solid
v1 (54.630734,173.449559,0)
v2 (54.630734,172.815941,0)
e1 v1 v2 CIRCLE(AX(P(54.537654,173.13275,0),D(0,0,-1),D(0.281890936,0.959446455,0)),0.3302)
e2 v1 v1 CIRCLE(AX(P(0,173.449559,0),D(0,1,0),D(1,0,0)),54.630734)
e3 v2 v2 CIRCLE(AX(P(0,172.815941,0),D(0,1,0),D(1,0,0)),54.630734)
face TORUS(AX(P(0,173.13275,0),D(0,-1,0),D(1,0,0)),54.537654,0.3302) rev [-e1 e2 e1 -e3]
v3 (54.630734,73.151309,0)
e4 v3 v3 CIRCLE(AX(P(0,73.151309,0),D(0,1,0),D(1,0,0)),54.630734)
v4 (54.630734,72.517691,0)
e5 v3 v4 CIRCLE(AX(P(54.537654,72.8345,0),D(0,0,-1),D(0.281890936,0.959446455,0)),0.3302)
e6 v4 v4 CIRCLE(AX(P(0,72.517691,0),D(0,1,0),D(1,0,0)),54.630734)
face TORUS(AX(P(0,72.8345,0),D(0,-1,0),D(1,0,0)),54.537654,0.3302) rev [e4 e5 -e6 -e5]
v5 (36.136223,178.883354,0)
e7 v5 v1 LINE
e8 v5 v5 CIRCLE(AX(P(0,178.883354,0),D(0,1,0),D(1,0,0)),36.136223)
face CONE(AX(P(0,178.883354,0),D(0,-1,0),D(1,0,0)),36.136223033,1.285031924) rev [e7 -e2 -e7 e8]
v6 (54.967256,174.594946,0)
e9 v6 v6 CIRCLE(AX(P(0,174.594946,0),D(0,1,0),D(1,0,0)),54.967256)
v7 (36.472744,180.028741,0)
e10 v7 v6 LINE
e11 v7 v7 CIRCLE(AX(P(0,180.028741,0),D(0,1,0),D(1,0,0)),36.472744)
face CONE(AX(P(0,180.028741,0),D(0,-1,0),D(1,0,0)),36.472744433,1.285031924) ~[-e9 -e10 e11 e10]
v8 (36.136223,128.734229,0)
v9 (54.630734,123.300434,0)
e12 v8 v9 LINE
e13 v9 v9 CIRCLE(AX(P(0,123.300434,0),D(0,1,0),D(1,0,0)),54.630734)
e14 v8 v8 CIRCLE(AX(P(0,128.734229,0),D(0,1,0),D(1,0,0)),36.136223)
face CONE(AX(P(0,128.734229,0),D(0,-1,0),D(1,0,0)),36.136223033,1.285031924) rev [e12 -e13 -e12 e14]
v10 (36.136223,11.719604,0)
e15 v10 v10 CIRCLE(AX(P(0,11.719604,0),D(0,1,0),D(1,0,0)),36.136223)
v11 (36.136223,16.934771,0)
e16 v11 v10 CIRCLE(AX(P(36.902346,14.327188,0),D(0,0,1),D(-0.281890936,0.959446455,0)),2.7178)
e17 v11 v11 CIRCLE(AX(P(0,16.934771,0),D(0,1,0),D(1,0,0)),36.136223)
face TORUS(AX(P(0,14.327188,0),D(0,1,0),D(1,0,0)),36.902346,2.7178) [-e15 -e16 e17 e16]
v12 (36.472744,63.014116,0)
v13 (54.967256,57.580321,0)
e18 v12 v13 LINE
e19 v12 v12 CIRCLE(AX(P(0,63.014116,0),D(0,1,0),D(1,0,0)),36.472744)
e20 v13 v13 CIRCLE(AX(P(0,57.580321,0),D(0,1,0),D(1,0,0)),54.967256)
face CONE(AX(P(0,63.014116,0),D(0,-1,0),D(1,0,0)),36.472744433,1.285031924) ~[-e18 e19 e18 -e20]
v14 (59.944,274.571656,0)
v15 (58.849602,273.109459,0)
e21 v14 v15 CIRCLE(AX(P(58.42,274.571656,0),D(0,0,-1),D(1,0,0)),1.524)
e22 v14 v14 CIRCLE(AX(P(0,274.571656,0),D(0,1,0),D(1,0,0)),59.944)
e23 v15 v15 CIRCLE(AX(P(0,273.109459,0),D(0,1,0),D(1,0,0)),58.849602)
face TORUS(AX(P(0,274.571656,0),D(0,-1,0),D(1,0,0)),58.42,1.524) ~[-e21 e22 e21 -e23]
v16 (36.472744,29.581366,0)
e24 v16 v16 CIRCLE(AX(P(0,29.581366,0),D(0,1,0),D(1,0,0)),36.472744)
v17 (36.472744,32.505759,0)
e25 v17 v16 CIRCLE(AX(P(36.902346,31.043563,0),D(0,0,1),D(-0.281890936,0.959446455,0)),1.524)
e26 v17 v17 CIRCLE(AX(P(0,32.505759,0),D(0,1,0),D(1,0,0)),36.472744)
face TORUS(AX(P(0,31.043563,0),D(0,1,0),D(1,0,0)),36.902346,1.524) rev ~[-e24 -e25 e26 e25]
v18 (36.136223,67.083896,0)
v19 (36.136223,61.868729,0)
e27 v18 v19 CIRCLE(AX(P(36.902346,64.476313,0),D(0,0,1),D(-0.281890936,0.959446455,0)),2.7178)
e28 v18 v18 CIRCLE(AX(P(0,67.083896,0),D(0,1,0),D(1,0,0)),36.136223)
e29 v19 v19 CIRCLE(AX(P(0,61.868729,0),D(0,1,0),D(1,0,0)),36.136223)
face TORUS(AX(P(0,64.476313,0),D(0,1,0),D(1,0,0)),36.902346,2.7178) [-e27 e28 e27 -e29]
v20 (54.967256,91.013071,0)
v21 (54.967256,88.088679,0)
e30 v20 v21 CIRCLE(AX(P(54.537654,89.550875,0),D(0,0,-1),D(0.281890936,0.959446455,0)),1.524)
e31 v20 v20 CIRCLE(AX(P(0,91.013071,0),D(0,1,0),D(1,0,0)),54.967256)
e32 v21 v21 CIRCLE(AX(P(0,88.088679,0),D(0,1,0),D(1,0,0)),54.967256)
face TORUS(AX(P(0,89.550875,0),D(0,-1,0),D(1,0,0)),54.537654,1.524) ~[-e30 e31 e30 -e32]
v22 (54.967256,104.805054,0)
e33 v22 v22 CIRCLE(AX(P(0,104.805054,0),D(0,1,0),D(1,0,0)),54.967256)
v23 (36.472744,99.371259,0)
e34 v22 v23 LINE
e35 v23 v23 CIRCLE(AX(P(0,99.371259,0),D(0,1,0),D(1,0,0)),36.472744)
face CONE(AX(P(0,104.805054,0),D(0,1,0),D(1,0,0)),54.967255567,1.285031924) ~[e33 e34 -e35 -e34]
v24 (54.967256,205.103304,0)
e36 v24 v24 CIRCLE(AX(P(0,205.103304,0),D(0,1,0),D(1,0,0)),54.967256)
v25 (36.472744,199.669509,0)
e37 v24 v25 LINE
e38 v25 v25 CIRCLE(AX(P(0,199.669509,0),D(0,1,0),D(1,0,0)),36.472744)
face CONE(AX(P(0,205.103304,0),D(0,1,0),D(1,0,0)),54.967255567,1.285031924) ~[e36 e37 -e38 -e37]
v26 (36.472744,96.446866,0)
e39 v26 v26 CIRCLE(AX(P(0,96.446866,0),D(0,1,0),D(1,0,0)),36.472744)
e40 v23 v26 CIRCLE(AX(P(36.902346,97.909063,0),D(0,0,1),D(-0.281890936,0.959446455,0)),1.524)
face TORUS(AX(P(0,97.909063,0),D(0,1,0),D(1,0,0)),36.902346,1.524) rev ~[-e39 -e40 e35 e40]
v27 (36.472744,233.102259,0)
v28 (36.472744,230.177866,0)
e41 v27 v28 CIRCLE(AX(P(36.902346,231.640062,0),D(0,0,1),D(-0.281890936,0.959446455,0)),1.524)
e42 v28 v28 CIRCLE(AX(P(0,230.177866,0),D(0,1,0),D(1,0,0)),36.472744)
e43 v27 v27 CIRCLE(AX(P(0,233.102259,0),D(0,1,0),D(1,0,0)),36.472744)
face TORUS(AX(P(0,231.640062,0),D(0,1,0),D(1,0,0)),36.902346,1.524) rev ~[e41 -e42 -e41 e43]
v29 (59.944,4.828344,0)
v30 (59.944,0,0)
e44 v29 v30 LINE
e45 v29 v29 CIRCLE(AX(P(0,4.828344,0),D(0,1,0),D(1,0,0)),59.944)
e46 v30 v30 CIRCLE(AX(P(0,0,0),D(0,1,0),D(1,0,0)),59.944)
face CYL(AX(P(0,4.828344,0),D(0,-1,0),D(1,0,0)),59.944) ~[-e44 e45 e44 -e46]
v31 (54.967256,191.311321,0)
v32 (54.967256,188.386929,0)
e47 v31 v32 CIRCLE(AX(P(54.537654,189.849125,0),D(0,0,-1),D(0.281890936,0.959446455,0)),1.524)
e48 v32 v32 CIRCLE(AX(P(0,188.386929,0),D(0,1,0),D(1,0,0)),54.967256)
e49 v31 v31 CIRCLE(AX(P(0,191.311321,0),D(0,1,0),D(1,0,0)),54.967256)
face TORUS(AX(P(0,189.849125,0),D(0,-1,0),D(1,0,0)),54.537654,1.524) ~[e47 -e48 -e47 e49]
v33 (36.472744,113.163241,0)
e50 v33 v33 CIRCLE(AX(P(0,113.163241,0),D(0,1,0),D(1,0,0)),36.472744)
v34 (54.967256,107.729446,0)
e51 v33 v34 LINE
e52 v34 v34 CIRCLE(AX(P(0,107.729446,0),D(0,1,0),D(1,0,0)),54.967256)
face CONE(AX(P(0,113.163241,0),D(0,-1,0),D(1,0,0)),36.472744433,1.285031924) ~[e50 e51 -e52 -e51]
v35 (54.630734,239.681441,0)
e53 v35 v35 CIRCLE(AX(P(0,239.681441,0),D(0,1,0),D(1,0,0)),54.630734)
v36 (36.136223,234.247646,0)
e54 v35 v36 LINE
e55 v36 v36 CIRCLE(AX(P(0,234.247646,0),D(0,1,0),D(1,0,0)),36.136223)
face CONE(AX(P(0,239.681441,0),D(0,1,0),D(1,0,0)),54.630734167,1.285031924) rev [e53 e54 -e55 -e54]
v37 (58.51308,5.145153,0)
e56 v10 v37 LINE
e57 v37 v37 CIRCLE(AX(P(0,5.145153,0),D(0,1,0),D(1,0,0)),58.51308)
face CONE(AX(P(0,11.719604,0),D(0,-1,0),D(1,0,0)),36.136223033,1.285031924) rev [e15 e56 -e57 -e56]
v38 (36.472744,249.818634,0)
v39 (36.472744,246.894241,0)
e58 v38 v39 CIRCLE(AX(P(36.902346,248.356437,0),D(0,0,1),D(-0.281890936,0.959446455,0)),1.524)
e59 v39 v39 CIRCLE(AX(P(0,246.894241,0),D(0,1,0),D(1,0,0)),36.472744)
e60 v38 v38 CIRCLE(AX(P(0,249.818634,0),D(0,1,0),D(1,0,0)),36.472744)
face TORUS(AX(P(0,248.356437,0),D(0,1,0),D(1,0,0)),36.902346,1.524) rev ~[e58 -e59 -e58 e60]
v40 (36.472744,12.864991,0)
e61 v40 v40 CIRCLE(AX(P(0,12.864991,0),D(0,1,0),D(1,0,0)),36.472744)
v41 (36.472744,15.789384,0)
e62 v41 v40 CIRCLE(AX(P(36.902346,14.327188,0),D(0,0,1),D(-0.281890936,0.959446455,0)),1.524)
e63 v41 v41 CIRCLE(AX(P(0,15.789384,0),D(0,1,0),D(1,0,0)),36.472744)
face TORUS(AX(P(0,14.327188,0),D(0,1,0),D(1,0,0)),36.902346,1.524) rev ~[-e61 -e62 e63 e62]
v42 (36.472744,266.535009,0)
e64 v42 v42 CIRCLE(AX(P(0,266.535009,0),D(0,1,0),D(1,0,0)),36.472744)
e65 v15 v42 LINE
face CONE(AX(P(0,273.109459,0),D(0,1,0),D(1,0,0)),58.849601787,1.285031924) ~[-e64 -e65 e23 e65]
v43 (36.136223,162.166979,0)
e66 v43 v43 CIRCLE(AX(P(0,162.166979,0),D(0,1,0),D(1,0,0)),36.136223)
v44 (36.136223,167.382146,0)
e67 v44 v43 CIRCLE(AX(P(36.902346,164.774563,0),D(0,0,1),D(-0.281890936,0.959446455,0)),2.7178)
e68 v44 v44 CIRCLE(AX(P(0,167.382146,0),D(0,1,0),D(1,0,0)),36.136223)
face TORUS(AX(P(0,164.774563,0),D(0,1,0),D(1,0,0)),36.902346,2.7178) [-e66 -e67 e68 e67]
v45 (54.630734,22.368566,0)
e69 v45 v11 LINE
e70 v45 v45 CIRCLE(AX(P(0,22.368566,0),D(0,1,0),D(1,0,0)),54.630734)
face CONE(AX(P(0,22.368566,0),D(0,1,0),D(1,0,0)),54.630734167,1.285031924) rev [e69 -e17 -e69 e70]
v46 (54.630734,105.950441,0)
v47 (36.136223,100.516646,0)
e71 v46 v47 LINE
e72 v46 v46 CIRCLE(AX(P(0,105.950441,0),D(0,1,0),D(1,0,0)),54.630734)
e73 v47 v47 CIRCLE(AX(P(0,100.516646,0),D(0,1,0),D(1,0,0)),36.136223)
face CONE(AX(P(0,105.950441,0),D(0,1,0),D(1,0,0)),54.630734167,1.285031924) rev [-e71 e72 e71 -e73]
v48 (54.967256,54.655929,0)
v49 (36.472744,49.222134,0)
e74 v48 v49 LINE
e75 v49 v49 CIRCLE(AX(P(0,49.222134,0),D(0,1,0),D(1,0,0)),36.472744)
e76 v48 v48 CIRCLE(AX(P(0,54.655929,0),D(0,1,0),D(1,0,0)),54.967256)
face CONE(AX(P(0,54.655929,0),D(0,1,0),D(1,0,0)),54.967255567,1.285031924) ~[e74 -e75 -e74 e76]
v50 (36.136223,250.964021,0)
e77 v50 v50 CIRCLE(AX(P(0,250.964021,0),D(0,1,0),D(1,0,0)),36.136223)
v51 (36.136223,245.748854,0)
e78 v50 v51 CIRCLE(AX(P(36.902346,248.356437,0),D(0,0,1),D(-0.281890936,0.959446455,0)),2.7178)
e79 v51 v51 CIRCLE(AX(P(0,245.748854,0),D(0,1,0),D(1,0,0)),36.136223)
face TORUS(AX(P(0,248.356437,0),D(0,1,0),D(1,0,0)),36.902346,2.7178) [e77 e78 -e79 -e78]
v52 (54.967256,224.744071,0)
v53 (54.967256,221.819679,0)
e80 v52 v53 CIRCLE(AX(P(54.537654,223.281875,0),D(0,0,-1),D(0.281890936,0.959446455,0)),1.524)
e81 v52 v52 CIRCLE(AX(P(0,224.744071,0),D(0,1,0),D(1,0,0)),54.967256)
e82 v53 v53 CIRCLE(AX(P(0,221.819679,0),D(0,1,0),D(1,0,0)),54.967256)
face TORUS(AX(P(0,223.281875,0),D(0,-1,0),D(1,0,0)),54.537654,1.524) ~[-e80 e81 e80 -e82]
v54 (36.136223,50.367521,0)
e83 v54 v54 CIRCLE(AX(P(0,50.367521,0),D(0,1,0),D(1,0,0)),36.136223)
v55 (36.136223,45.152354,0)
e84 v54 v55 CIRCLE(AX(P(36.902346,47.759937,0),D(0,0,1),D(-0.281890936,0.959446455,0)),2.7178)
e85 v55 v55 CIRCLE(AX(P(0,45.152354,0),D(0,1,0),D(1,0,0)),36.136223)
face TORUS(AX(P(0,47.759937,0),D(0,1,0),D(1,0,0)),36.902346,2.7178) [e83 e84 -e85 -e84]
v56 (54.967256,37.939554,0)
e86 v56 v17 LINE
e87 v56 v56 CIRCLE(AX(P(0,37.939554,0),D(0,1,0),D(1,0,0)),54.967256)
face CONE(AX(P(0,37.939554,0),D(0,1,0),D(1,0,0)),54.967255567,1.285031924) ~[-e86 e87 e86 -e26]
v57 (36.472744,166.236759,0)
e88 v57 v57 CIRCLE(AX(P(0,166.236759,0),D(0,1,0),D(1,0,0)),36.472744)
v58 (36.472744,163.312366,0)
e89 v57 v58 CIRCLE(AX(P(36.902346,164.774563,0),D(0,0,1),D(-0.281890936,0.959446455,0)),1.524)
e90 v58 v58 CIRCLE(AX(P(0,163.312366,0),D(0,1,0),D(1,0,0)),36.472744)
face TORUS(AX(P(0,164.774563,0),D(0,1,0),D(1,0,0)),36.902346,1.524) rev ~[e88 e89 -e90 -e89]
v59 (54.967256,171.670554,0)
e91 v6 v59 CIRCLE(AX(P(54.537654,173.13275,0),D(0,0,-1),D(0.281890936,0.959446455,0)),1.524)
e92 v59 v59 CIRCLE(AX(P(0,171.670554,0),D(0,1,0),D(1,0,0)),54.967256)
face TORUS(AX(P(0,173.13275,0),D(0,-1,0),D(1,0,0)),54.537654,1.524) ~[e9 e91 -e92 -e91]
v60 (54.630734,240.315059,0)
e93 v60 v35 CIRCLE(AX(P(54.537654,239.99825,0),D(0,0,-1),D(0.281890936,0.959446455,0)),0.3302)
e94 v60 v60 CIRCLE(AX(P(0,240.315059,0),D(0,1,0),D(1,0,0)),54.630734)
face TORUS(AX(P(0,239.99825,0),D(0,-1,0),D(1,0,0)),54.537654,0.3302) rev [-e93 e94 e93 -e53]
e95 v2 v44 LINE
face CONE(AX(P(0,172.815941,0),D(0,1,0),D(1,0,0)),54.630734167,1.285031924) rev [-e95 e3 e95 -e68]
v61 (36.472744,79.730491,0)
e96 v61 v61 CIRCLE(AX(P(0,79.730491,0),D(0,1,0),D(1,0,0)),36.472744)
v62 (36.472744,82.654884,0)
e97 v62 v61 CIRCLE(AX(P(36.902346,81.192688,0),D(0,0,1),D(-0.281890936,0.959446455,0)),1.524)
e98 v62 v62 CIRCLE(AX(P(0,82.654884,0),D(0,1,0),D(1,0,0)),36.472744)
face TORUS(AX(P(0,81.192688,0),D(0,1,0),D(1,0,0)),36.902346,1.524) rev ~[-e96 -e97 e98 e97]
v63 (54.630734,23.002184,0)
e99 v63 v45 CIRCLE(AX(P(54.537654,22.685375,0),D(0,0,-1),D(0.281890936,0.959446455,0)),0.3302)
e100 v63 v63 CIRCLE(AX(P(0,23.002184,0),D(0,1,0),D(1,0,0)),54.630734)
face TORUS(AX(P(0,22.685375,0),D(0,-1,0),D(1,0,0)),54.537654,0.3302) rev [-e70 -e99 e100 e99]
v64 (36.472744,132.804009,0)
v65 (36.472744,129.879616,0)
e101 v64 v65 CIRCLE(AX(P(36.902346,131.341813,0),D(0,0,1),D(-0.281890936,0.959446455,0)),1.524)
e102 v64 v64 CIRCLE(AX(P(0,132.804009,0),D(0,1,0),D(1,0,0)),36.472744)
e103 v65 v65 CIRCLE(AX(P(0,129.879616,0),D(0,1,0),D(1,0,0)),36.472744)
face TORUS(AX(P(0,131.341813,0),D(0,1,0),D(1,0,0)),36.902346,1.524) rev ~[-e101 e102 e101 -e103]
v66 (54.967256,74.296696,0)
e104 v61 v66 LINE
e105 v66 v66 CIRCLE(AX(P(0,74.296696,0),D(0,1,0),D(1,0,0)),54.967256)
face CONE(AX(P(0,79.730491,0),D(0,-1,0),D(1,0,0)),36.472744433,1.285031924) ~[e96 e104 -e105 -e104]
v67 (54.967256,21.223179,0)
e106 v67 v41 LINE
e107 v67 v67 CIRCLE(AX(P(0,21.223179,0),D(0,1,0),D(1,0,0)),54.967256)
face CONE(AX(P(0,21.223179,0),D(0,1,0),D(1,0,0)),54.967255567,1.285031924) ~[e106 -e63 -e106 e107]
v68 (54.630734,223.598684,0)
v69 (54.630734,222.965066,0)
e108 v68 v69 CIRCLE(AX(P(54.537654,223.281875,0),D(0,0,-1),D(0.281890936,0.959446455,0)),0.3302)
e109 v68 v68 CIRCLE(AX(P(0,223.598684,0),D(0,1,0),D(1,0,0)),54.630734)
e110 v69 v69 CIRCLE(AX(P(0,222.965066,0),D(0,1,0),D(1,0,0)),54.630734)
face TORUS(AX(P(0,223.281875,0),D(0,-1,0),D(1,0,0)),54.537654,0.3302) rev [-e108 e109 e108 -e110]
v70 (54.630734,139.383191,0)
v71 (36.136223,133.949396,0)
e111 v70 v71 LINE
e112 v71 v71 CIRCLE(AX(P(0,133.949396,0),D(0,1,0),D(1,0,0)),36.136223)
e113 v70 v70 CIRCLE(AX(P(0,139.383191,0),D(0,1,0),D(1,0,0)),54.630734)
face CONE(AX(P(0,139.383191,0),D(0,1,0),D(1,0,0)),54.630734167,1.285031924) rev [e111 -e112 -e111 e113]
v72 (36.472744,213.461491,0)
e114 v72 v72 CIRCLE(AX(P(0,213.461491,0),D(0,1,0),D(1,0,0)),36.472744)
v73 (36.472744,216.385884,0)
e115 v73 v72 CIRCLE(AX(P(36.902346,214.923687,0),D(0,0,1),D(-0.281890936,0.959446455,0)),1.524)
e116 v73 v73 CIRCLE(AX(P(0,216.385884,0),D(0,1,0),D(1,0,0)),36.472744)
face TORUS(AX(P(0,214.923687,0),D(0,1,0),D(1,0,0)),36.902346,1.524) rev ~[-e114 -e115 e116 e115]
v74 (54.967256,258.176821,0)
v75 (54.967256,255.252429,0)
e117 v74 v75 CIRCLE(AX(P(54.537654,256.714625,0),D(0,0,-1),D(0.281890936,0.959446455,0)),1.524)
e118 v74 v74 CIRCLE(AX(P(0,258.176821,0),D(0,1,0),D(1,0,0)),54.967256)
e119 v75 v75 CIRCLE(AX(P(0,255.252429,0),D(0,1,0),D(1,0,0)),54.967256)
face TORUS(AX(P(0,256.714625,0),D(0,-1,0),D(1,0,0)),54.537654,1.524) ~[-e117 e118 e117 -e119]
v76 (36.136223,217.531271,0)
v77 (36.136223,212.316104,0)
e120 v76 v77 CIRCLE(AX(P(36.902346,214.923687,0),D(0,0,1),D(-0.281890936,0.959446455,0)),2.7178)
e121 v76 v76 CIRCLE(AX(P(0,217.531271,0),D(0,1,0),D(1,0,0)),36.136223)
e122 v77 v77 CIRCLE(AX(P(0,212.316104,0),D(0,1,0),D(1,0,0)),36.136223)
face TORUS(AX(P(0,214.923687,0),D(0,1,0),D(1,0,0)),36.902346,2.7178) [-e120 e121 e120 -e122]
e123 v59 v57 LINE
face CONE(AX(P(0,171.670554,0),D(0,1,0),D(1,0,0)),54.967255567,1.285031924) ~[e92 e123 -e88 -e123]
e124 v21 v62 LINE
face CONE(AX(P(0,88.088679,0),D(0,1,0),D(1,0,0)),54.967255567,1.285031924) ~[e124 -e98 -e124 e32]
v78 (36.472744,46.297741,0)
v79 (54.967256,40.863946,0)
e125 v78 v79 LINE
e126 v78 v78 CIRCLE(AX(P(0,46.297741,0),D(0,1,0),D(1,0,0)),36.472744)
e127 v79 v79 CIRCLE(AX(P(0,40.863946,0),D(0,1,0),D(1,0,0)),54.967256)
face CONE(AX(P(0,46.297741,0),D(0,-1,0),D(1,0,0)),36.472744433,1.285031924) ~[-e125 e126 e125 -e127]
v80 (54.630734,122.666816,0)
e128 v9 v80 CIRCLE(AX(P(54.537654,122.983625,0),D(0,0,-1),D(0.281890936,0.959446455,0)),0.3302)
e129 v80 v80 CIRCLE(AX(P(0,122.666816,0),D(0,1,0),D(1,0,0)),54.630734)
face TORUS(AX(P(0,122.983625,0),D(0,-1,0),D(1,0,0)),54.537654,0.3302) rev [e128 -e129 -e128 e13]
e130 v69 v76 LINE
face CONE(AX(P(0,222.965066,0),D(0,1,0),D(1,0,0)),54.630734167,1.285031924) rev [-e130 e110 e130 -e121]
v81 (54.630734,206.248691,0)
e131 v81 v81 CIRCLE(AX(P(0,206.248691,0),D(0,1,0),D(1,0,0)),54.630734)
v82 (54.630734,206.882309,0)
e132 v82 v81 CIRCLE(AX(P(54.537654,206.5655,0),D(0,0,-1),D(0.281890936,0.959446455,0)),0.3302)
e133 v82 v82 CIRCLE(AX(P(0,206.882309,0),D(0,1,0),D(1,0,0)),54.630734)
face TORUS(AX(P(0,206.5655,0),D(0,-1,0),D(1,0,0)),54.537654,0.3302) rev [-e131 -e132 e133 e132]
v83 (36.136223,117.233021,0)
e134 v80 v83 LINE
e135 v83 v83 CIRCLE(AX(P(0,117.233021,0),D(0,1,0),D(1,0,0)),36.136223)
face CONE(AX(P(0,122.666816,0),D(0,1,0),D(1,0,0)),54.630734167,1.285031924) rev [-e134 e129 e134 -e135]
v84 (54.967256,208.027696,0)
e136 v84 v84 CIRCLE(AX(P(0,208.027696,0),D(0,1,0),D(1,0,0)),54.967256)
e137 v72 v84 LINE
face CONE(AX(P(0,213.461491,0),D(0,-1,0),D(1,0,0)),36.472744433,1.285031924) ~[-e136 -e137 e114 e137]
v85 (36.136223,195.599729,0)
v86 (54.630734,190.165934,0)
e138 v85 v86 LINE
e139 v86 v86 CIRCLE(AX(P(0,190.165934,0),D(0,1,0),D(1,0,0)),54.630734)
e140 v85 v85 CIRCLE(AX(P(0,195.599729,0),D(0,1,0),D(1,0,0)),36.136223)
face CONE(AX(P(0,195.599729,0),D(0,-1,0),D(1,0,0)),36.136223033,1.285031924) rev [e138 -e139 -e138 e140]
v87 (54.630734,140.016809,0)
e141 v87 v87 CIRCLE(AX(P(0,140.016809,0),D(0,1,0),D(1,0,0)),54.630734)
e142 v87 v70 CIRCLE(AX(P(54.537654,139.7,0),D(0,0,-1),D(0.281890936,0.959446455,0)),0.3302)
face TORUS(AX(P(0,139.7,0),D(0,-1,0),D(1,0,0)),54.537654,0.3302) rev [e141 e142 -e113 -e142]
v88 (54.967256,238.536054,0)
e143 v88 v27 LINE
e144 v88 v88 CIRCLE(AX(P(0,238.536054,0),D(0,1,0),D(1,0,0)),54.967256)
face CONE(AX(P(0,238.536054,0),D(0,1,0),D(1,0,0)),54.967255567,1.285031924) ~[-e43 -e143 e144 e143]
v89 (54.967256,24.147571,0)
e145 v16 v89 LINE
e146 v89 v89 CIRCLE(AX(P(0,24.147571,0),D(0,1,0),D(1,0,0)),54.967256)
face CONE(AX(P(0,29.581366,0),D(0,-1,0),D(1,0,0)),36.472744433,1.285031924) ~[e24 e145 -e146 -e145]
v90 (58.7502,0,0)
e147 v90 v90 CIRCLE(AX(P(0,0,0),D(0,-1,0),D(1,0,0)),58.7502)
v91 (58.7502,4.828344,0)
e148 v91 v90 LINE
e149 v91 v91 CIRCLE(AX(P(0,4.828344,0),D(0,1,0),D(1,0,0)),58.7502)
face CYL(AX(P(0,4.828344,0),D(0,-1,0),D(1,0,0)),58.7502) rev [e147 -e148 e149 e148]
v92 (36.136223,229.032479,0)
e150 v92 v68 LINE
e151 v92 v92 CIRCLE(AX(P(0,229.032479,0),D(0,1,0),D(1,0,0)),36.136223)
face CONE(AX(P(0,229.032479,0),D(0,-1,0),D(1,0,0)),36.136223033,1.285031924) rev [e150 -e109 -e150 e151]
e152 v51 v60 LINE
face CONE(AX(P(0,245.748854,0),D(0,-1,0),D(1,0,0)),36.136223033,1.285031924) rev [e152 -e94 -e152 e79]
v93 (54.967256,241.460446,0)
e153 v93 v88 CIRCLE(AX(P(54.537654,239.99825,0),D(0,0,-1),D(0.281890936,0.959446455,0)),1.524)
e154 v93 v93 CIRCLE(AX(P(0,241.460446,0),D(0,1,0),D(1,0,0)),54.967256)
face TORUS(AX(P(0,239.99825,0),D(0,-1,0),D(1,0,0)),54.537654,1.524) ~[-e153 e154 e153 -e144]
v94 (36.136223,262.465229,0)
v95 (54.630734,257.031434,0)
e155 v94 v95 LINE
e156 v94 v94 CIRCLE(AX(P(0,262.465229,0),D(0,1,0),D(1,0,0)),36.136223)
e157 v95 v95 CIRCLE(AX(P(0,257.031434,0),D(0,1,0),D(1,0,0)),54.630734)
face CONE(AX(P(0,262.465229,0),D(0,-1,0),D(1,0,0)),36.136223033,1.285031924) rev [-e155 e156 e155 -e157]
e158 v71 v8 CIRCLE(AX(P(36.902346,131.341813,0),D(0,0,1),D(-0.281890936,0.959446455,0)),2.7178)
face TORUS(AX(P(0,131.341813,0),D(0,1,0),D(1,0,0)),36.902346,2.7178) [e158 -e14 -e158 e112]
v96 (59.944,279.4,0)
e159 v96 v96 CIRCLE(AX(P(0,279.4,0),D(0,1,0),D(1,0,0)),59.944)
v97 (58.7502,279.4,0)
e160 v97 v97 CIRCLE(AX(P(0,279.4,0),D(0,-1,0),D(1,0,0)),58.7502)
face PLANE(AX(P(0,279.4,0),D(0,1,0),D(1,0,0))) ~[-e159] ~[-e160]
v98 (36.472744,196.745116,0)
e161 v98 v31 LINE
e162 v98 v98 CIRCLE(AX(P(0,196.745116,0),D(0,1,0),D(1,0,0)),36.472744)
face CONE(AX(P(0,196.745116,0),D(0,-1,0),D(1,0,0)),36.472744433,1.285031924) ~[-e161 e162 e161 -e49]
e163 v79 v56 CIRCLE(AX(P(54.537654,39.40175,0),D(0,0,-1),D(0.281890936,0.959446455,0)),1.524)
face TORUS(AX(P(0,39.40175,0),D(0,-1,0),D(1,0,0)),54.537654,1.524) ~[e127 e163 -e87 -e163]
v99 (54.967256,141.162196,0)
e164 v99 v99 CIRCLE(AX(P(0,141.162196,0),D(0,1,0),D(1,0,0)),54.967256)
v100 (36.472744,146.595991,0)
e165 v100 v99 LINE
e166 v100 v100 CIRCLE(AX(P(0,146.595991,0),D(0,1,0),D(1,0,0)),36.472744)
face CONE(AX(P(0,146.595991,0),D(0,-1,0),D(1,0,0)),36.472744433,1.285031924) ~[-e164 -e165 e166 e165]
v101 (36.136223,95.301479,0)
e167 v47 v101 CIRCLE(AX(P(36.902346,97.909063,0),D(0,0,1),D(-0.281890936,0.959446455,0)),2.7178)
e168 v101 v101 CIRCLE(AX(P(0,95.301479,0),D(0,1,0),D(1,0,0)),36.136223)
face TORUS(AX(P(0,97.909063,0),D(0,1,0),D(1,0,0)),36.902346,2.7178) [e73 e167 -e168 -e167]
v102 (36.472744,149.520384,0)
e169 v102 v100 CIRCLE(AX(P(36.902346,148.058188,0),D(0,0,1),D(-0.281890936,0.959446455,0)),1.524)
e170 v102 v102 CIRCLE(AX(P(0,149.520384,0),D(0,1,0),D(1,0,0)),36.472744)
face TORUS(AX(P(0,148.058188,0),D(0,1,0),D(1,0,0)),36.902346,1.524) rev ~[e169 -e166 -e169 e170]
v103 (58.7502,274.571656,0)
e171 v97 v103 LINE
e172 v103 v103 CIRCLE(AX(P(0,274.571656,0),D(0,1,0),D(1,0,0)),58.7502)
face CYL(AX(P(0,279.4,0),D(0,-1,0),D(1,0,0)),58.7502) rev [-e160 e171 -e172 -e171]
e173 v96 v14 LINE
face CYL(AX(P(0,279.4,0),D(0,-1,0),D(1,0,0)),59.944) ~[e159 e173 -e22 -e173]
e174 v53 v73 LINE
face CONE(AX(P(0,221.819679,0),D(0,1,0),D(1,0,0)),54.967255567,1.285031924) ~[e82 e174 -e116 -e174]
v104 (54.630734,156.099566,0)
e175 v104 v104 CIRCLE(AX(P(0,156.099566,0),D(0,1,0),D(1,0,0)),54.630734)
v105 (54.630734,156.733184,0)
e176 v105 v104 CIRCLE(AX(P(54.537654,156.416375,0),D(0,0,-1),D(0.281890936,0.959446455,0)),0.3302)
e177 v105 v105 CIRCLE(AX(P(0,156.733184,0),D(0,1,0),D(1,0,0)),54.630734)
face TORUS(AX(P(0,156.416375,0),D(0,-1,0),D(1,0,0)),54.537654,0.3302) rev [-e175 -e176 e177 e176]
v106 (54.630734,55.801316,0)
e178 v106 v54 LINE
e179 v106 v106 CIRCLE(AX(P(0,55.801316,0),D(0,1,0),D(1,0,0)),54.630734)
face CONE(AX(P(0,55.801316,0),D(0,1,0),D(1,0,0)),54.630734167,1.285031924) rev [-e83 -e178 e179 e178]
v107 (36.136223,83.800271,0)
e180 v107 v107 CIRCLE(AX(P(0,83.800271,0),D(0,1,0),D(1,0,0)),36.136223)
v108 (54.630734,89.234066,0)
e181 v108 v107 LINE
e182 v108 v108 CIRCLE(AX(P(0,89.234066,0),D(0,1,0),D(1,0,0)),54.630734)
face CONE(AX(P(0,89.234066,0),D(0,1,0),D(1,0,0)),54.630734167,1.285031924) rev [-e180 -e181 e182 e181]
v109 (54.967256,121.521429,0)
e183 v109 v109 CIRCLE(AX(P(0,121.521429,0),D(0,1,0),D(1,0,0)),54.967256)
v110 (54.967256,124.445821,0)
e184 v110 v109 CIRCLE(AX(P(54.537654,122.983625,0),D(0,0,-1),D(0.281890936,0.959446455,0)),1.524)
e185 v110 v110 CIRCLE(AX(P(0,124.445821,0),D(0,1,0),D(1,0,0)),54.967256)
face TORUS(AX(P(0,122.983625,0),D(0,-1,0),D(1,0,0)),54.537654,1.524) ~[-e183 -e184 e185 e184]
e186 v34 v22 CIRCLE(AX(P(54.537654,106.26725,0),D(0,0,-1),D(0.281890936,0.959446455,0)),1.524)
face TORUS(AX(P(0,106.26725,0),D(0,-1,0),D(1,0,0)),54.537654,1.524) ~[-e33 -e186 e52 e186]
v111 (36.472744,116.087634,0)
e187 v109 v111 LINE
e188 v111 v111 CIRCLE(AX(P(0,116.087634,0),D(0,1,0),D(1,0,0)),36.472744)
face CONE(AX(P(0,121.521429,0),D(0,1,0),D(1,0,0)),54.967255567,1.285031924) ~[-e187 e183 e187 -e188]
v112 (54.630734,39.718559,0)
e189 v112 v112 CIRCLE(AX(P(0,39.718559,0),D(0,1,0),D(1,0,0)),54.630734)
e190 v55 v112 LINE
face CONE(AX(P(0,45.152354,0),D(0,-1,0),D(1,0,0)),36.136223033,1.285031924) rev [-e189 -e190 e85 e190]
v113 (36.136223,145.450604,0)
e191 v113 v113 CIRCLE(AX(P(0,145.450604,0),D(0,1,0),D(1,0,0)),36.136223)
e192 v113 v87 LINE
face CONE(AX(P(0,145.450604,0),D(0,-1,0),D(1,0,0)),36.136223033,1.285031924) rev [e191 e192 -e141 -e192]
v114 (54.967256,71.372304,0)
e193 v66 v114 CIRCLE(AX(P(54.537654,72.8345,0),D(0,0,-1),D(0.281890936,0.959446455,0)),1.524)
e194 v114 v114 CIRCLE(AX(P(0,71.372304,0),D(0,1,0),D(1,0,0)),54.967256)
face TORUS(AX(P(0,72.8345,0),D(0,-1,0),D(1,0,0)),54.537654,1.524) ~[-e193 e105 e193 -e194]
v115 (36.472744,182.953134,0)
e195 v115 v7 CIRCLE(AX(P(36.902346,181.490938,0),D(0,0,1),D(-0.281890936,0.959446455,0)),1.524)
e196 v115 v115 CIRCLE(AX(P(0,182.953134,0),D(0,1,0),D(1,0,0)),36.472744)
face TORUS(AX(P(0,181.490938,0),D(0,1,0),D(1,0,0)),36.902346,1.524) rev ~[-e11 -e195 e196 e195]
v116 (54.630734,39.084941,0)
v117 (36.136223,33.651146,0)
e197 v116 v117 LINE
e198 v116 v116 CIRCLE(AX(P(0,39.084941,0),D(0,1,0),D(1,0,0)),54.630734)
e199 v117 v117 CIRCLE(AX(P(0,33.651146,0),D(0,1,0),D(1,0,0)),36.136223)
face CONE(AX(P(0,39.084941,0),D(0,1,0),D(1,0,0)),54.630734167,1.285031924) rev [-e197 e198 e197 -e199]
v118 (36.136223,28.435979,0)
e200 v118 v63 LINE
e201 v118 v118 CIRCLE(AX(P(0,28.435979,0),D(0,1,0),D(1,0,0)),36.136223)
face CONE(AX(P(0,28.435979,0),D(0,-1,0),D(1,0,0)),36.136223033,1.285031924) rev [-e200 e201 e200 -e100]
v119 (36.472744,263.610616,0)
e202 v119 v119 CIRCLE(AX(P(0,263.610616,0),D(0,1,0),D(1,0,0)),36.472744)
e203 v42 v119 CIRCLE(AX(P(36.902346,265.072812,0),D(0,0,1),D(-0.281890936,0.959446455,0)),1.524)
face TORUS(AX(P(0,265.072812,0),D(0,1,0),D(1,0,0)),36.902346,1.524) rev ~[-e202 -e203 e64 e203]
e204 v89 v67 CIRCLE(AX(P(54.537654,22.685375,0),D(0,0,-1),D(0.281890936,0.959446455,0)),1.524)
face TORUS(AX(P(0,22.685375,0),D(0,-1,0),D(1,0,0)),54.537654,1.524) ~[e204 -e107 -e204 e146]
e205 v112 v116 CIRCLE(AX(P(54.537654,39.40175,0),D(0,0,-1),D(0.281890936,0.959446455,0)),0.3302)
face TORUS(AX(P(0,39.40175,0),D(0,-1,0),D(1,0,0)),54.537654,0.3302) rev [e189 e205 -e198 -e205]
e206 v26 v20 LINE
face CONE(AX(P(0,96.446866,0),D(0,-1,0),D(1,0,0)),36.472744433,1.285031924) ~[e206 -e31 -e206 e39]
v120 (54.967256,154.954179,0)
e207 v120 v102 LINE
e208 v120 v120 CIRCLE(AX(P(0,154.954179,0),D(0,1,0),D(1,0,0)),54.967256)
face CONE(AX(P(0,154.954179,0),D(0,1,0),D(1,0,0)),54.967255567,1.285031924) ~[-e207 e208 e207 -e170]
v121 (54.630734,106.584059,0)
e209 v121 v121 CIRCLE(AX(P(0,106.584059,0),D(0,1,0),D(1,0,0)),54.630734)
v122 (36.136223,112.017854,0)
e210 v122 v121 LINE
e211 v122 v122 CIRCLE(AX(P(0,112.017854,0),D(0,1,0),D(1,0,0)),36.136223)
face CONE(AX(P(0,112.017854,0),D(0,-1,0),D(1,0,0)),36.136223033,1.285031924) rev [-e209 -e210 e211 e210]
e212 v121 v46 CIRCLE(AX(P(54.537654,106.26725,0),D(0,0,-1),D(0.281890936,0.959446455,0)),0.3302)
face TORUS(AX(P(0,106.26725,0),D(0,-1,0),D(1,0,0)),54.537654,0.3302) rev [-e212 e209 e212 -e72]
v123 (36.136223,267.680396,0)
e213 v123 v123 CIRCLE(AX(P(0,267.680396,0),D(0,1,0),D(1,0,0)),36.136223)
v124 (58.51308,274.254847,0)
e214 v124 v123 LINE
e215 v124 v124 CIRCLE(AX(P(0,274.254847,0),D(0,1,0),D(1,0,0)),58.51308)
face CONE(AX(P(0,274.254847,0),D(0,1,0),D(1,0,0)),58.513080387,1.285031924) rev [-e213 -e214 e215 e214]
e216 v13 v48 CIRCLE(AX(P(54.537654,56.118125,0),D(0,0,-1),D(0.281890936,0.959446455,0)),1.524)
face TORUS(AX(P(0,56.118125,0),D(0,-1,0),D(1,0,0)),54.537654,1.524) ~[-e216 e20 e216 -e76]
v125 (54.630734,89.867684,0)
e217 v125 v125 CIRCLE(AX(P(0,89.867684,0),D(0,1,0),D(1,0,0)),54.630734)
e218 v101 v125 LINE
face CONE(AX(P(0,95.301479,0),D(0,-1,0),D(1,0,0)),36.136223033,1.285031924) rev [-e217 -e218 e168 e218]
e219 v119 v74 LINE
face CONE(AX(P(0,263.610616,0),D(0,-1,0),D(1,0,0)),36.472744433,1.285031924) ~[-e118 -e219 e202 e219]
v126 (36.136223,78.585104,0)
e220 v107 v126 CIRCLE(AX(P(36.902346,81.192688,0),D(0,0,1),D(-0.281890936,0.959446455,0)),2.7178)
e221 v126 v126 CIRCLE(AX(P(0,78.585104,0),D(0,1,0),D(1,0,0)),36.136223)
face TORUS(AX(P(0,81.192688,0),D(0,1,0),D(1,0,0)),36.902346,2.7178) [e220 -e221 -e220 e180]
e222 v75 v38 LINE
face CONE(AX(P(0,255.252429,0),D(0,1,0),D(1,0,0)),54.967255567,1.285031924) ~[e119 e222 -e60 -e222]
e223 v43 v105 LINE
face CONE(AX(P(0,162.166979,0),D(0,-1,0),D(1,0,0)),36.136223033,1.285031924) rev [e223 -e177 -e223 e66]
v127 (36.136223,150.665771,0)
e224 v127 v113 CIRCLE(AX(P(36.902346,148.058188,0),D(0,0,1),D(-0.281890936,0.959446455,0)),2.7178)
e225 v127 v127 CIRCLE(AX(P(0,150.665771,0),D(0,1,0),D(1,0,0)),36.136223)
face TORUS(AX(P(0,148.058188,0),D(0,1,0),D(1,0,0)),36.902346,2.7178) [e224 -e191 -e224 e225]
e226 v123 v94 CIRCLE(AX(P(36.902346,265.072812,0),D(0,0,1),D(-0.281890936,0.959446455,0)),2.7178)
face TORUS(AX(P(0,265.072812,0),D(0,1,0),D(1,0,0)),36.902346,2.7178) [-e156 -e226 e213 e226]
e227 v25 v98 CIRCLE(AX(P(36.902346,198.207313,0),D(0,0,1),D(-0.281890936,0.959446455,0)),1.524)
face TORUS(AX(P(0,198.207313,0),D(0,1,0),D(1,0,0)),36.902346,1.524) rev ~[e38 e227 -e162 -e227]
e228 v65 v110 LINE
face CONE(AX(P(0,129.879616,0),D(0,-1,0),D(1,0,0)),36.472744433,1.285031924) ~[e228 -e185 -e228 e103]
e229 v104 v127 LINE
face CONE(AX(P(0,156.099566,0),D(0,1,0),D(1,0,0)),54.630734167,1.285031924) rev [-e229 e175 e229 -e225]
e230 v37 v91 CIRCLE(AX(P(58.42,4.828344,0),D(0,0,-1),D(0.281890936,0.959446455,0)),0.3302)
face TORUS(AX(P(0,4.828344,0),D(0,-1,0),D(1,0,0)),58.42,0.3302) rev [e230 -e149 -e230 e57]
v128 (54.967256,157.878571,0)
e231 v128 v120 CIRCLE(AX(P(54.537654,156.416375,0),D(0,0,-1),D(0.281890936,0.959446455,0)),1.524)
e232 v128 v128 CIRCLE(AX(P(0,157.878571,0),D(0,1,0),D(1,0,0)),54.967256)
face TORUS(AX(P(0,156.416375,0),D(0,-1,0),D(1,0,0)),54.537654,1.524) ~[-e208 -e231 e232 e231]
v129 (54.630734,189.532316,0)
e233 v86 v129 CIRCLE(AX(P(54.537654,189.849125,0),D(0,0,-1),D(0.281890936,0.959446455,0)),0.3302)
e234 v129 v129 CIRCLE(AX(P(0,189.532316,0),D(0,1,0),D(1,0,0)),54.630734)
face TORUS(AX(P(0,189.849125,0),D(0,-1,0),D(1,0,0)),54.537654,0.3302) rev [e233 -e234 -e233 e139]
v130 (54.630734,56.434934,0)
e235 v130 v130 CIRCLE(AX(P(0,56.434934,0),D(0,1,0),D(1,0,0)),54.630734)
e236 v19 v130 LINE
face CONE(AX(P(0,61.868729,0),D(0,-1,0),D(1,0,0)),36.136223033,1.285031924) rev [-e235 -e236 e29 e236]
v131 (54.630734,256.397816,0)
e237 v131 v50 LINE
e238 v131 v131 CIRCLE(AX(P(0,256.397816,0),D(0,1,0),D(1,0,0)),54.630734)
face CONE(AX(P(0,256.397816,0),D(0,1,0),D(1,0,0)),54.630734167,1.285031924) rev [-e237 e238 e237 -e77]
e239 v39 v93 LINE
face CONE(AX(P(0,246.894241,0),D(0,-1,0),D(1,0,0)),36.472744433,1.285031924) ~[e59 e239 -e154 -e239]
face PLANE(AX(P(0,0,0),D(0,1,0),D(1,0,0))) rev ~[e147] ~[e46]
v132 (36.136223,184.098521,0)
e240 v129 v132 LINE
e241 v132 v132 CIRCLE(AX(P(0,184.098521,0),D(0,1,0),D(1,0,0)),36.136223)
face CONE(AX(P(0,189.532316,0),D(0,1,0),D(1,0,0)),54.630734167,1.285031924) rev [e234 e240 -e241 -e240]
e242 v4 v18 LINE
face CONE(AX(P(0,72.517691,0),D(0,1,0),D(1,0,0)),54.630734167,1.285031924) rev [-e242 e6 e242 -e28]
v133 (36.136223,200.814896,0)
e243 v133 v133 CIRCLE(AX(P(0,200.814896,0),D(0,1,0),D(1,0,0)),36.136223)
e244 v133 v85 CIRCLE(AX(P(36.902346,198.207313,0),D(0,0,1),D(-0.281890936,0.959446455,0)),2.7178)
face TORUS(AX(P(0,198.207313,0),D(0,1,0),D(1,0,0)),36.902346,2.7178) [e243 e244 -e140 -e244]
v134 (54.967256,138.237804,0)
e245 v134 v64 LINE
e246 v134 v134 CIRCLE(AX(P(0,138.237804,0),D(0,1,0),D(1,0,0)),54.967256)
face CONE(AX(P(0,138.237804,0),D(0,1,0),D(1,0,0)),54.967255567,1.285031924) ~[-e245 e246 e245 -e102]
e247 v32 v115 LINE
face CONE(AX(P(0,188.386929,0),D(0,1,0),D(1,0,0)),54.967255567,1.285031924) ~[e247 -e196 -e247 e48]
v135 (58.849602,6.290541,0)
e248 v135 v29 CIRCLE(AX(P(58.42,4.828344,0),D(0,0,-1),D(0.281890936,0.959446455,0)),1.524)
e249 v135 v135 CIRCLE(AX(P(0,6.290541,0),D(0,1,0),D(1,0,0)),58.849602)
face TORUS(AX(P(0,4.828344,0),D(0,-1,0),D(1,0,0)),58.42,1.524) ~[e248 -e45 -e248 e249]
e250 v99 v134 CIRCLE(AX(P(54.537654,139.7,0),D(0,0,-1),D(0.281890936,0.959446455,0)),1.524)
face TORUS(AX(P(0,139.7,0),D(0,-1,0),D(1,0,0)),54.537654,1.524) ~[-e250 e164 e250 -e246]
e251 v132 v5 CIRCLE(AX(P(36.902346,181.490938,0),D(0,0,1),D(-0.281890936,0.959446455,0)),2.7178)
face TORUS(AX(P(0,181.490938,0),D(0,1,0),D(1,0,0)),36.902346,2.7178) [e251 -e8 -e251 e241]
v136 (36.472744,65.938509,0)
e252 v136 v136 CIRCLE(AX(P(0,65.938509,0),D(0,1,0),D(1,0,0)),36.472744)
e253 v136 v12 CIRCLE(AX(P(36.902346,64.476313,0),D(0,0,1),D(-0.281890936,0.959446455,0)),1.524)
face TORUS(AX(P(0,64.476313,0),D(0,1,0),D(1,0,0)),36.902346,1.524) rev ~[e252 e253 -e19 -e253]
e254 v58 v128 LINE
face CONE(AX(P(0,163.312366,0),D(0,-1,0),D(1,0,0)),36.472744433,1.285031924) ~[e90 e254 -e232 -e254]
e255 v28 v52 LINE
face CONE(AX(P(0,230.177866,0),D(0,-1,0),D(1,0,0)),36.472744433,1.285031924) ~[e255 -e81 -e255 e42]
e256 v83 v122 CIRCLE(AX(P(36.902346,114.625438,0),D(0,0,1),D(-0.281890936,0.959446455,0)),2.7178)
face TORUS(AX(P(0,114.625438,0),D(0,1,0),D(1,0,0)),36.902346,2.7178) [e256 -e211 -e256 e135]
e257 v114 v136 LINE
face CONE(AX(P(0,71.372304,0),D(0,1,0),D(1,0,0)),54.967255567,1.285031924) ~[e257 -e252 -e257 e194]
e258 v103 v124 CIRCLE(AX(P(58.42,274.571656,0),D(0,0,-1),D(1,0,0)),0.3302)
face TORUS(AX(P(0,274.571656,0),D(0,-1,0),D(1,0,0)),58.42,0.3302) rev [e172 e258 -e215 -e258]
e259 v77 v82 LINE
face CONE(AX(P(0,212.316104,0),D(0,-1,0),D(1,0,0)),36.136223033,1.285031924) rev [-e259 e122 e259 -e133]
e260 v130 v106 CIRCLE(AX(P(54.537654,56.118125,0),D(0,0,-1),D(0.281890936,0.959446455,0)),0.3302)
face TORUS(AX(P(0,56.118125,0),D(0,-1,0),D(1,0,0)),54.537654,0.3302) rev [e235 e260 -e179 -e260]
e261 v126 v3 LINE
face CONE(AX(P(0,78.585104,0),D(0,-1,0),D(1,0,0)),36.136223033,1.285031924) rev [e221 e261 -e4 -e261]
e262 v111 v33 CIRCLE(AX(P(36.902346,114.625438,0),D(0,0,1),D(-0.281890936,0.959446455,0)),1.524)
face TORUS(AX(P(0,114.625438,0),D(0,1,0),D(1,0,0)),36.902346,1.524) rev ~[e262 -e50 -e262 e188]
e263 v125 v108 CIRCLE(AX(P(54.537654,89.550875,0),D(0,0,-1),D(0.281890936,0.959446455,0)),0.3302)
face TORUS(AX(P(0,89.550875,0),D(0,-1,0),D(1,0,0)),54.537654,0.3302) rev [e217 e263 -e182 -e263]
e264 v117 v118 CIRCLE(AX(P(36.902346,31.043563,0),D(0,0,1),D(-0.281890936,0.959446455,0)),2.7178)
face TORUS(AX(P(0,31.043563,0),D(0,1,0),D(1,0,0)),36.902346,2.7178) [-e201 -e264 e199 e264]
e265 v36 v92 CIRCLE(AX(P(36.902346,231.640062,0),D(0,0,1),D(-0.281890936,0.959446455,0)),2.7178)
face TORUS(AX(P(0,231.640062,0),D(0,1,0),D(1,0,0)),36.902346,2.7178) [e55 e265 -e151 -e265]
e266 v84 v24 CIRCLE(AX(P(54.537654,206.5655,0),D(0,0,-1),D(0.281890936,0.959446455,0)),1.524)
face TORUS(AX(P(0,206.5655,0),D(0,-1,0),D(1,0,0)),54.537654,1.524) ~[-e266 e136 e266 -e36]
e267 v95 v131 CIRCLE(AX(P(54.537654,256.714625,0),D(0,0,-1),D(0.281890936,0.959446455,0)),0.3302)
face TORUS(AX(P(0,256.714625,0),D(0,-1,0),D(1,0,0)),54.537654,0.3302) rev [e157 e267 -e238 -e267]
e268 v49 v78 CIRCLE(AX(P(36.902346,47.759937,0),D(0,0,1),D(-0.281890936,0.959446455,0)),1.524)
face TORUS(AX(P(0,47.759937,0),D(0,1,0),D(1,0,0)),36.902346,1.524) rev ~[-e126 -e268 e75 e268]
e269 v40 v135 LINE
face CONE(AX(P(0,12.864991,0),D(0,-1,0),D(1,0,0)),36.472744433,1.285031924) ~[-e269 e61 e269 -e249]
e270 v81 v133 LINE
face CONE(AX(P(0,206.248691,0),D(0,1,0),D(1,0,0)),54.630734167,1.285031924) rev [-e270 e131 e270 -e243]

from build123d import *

# Parameters (mm, degrees)
SHELL1_T = -1.1938


with BuildPart() as part:
    # Sketch1 → Revolve2 (revolve)
    with BuildSketch(Plane.XY):
        with BuildLine():
            Line((0, 0), (0, 279.4))
            Line((0, 279.4), (59.944, 279.4))
            Line((59.944, 279.4), (59.944, 274.571655851))
            ThreePointArc((59.944, 274.571655851), (59.640100226, 273.658457385), (58.849601787, 273.109459454))
            Line((58.849601787, 273.109459454), (36.472744433, 266.535008897))
            ThreePointArc((36.472744433, 266.535008897), (35.37834622, 265.0728125), (36.472744433, 263.610616103))
            Line((36.472744433, 263.610616103), (54.967255567, 258.176821397))
            ThreePointArc((54.967255567, 258.176821397), (56.06165378, 256.714625), (54.967255567, 255.252428603))
            Line((54.967255567, 255.252428603), (36.472744433, 249.818633897))
            ThreePointArc((36.472744433, 249.818633897), (35.37834622, 248.3564375), (36.472744433, 246.894241103))
            Line((36.472744433, 246.894241103), (54.967255567, 241.460446397))
            ThreePointArc((54.967255567, 241.460446397), (56.06165378, 239.99825), (54.967255567, 238.536053603))
            Line((54.967255567, 238.536053603), (36.472744433, 233.102258897))
            ThreePointArc((36.472744433, 233.102258897), (35.37834622, 231.6400625), (36.472744433, 230.177866103))
            Line((36.472744433, 230.177866103), (54.967255567, 224.744071397))
            ThreePointArc((54.967255567, 224.744071397), (56.06165378, 223.281875), (54.967255567, 221.819678603))
            Line((54.967255567, 221.819678603), (36.472744433, 216.385883897))
            ThreePointArc((36.472744433, 216.385883897), (35.37834622, 214.9236875), (36.472744433, 213.461491103))
            Line((36.472744433, 213.461491103), (54.967255567, 208.027696397))
            ThreePointArc((54.967255567, 208.027696397), (56.06165378, 206.5655), (54.967255567, 205.103303603))
            Line((54.967255567, 205.103303603), (36.472744433, 199.669508897))
            ThreePointArc((36.472744433, 199.669508897), (35.37834622, 198.2073125), (36.472744433, 196.745116103))
            Line((36.472744433, 196.745116103), (54.967255567, 191.311321397))
            ThreePointArc((54.967255567, 191.311321397), (56.06165378, 189.849125), (54.967255567, 188.386928603))
            Line((54.967255567, 188.386928603), (36.472744433, 182.953133897))
            ThreePointArc((36.472744433, 182.953133897), (35.37834622, 181.4909375), (36.472744433, 180.028741103))
            Line((36.472744433, 180.028741103), (54.967255567, 174.594946397))
            ThreePointArc((54.967255567, 174.594946397), (56.06165378, 173.13275), (54.967255567, 171.670553603))
            Line((54.967255567, 171.670553603), (36.472744433, 166.236758897))
            ThreePointArc((36.472744433, 166.236758897), (35.37834622, 164.7745625), (36.472744433, 163.312366103))
            Line((36.472744433, 163.312366103), (54.967255567, 157.878571397))
            ThreePointArc((54.967255567, 157.878571397), (56.06165378, 156.416375), (54.967255567, 154.954178603))
            Line((54.967255567, 154.954178603), (36.472744433, 149.520383897))
            ThreePointArc((36.472744433, 149.520383897), (35.37834622, 148.0581875), (36.472744433, 146.595991103))
            Line((36.472744433, 146.595991103), (54.967255567, 141.162196397))
            ThreePointArc((54.967255567, 141.162196397), (56.06165378, 139.7), (54.967255567, 138.237803603))
            Line((54.967255567, 138.237803603), (36.472744433, 132.804008897))
            ThreePointArc((36.472744433, 132.804008897), (35.37834622, 131.3418125), (36.472744433, 129.879616103))
            Line((36.472744433, 129.879616103), (54.967255567, 124.445821397))
            ThreePointArc((54.967255567, 124.445821397), (56.06165378, 122.983625), (54.967255567, 121.521428603))
            Line((54.967255567, 121.521428603), (36.472744433, 116.087633897))
            ThreePointArc((36.472744433, 116.087633897), (35.37834622, 114.6254375), (36.472744433, 113.163241103))
            Line((36.472744433, 113.163241103), (54.967255567, 107.729446397))
            ThreePointArc((54.967255567, 107.729446397), (56.06165378, 106.26725), (54.967255567, 104.805053603))
            Line((54.967255567, 104.805053603), (36.472744433, 99.371258897))
            ThreePointArc((36.472744433, 99.371258897), (35.37834622, 97.9090625), (36.472744433, 96.446866103))
            Line((36.472744433, 96.446866103), (54.967255567, 91.013071397))
            ThreePointArc((54.967255567, 91.013071397), (56.06165378, 89.550875), (54.967255567, 88.088678603))
            Line((54.967255567, 88.088678603), (36.472744433, 82.654883897))
            ThreePointArc((36.472744433, 82.654883897), (35.37834622, 81.1926875), (36.472744433, 79.730491103))
            Line((36.472744433, 79.730491103), (54.967255567, 74.296696397))
            ThreePointArc((54.967255567, 74.296696397), (56.06165378, 72.8345), (54.967255567, 71.372303603))
            Line((54.967255567, 71.372303603), (36.472744433, 65.938508897))
            ThreePointArc((36.472744433, 65.938508897), (35.37834622, 64.4763125), (36.472744433, 63.014116103))
            Line((36.472744433, 63.014116103), (54.967255567, 57.580321397))
            ThreePointArc((54.967255567, 57.580321397), (56.06165378, 56.118125), (54.967255567, 54.655928603))
            Line((54.967255567, 54.655928603), (36.472744433, 49.222133897))
            ThreePointArc((36.472744433, 49.222133897), (35.37834622, 47.7599375), (36.472744433, 46.297741103))
            Line((36.472744433, 46.297741103), (54.967255567, 40.863946397))
            ThreePointArc((54.967255567, 40.863946397), (56.06165378, 39.40175), (54.967255567, 37.939553603))
            Line((54.967255567, 37.939553603), (36.472744433, 32.505758897))
            ThreePointArc((36.472744433, 32.505758897), (35.37834622, 31.0435625), (36.472744433, 29.581366103))
            Line((36.472744433, 29.581366103), (54.967255567, 24.147571397))
            ThreePointArc((54.967255567, 24.147571397), (56.06165378, 22.685375), (54.967255567, 21.223178603))
            Line((54.967255567, 21.223178603), (36.472744433, 15.789383897))
            ThreePointArc((36.472744433, 15.789383897), (35.37834622, 14.3271875), (36.472744433, 12.864991103))
            Line((36.472744433, 12.864991103), (58.849601787, 6.290540546))
            ThreePointArc((58.849601787, 6.290540546), (59.640100226, 5.741542615), (59.944, 4.828344149))
            Line((59.944, 4.828344149), (59.944, 0))
            Line((59.944, 0), (0, 0))
        make_face()
    revolve(axis=Axis((0, 0, 0), (0, 1, 0)))

    # Shell1
    shell1_openings = [part.faces().sort_by_distance(p)[0] for p in [
        (0, 279.4, 0),
        (0, 0, 0),
    ]]
    offset(amount=SHELL1_T, openings=shell1_openings, kind=Kind.INTERSECTION)


solid = part.part
